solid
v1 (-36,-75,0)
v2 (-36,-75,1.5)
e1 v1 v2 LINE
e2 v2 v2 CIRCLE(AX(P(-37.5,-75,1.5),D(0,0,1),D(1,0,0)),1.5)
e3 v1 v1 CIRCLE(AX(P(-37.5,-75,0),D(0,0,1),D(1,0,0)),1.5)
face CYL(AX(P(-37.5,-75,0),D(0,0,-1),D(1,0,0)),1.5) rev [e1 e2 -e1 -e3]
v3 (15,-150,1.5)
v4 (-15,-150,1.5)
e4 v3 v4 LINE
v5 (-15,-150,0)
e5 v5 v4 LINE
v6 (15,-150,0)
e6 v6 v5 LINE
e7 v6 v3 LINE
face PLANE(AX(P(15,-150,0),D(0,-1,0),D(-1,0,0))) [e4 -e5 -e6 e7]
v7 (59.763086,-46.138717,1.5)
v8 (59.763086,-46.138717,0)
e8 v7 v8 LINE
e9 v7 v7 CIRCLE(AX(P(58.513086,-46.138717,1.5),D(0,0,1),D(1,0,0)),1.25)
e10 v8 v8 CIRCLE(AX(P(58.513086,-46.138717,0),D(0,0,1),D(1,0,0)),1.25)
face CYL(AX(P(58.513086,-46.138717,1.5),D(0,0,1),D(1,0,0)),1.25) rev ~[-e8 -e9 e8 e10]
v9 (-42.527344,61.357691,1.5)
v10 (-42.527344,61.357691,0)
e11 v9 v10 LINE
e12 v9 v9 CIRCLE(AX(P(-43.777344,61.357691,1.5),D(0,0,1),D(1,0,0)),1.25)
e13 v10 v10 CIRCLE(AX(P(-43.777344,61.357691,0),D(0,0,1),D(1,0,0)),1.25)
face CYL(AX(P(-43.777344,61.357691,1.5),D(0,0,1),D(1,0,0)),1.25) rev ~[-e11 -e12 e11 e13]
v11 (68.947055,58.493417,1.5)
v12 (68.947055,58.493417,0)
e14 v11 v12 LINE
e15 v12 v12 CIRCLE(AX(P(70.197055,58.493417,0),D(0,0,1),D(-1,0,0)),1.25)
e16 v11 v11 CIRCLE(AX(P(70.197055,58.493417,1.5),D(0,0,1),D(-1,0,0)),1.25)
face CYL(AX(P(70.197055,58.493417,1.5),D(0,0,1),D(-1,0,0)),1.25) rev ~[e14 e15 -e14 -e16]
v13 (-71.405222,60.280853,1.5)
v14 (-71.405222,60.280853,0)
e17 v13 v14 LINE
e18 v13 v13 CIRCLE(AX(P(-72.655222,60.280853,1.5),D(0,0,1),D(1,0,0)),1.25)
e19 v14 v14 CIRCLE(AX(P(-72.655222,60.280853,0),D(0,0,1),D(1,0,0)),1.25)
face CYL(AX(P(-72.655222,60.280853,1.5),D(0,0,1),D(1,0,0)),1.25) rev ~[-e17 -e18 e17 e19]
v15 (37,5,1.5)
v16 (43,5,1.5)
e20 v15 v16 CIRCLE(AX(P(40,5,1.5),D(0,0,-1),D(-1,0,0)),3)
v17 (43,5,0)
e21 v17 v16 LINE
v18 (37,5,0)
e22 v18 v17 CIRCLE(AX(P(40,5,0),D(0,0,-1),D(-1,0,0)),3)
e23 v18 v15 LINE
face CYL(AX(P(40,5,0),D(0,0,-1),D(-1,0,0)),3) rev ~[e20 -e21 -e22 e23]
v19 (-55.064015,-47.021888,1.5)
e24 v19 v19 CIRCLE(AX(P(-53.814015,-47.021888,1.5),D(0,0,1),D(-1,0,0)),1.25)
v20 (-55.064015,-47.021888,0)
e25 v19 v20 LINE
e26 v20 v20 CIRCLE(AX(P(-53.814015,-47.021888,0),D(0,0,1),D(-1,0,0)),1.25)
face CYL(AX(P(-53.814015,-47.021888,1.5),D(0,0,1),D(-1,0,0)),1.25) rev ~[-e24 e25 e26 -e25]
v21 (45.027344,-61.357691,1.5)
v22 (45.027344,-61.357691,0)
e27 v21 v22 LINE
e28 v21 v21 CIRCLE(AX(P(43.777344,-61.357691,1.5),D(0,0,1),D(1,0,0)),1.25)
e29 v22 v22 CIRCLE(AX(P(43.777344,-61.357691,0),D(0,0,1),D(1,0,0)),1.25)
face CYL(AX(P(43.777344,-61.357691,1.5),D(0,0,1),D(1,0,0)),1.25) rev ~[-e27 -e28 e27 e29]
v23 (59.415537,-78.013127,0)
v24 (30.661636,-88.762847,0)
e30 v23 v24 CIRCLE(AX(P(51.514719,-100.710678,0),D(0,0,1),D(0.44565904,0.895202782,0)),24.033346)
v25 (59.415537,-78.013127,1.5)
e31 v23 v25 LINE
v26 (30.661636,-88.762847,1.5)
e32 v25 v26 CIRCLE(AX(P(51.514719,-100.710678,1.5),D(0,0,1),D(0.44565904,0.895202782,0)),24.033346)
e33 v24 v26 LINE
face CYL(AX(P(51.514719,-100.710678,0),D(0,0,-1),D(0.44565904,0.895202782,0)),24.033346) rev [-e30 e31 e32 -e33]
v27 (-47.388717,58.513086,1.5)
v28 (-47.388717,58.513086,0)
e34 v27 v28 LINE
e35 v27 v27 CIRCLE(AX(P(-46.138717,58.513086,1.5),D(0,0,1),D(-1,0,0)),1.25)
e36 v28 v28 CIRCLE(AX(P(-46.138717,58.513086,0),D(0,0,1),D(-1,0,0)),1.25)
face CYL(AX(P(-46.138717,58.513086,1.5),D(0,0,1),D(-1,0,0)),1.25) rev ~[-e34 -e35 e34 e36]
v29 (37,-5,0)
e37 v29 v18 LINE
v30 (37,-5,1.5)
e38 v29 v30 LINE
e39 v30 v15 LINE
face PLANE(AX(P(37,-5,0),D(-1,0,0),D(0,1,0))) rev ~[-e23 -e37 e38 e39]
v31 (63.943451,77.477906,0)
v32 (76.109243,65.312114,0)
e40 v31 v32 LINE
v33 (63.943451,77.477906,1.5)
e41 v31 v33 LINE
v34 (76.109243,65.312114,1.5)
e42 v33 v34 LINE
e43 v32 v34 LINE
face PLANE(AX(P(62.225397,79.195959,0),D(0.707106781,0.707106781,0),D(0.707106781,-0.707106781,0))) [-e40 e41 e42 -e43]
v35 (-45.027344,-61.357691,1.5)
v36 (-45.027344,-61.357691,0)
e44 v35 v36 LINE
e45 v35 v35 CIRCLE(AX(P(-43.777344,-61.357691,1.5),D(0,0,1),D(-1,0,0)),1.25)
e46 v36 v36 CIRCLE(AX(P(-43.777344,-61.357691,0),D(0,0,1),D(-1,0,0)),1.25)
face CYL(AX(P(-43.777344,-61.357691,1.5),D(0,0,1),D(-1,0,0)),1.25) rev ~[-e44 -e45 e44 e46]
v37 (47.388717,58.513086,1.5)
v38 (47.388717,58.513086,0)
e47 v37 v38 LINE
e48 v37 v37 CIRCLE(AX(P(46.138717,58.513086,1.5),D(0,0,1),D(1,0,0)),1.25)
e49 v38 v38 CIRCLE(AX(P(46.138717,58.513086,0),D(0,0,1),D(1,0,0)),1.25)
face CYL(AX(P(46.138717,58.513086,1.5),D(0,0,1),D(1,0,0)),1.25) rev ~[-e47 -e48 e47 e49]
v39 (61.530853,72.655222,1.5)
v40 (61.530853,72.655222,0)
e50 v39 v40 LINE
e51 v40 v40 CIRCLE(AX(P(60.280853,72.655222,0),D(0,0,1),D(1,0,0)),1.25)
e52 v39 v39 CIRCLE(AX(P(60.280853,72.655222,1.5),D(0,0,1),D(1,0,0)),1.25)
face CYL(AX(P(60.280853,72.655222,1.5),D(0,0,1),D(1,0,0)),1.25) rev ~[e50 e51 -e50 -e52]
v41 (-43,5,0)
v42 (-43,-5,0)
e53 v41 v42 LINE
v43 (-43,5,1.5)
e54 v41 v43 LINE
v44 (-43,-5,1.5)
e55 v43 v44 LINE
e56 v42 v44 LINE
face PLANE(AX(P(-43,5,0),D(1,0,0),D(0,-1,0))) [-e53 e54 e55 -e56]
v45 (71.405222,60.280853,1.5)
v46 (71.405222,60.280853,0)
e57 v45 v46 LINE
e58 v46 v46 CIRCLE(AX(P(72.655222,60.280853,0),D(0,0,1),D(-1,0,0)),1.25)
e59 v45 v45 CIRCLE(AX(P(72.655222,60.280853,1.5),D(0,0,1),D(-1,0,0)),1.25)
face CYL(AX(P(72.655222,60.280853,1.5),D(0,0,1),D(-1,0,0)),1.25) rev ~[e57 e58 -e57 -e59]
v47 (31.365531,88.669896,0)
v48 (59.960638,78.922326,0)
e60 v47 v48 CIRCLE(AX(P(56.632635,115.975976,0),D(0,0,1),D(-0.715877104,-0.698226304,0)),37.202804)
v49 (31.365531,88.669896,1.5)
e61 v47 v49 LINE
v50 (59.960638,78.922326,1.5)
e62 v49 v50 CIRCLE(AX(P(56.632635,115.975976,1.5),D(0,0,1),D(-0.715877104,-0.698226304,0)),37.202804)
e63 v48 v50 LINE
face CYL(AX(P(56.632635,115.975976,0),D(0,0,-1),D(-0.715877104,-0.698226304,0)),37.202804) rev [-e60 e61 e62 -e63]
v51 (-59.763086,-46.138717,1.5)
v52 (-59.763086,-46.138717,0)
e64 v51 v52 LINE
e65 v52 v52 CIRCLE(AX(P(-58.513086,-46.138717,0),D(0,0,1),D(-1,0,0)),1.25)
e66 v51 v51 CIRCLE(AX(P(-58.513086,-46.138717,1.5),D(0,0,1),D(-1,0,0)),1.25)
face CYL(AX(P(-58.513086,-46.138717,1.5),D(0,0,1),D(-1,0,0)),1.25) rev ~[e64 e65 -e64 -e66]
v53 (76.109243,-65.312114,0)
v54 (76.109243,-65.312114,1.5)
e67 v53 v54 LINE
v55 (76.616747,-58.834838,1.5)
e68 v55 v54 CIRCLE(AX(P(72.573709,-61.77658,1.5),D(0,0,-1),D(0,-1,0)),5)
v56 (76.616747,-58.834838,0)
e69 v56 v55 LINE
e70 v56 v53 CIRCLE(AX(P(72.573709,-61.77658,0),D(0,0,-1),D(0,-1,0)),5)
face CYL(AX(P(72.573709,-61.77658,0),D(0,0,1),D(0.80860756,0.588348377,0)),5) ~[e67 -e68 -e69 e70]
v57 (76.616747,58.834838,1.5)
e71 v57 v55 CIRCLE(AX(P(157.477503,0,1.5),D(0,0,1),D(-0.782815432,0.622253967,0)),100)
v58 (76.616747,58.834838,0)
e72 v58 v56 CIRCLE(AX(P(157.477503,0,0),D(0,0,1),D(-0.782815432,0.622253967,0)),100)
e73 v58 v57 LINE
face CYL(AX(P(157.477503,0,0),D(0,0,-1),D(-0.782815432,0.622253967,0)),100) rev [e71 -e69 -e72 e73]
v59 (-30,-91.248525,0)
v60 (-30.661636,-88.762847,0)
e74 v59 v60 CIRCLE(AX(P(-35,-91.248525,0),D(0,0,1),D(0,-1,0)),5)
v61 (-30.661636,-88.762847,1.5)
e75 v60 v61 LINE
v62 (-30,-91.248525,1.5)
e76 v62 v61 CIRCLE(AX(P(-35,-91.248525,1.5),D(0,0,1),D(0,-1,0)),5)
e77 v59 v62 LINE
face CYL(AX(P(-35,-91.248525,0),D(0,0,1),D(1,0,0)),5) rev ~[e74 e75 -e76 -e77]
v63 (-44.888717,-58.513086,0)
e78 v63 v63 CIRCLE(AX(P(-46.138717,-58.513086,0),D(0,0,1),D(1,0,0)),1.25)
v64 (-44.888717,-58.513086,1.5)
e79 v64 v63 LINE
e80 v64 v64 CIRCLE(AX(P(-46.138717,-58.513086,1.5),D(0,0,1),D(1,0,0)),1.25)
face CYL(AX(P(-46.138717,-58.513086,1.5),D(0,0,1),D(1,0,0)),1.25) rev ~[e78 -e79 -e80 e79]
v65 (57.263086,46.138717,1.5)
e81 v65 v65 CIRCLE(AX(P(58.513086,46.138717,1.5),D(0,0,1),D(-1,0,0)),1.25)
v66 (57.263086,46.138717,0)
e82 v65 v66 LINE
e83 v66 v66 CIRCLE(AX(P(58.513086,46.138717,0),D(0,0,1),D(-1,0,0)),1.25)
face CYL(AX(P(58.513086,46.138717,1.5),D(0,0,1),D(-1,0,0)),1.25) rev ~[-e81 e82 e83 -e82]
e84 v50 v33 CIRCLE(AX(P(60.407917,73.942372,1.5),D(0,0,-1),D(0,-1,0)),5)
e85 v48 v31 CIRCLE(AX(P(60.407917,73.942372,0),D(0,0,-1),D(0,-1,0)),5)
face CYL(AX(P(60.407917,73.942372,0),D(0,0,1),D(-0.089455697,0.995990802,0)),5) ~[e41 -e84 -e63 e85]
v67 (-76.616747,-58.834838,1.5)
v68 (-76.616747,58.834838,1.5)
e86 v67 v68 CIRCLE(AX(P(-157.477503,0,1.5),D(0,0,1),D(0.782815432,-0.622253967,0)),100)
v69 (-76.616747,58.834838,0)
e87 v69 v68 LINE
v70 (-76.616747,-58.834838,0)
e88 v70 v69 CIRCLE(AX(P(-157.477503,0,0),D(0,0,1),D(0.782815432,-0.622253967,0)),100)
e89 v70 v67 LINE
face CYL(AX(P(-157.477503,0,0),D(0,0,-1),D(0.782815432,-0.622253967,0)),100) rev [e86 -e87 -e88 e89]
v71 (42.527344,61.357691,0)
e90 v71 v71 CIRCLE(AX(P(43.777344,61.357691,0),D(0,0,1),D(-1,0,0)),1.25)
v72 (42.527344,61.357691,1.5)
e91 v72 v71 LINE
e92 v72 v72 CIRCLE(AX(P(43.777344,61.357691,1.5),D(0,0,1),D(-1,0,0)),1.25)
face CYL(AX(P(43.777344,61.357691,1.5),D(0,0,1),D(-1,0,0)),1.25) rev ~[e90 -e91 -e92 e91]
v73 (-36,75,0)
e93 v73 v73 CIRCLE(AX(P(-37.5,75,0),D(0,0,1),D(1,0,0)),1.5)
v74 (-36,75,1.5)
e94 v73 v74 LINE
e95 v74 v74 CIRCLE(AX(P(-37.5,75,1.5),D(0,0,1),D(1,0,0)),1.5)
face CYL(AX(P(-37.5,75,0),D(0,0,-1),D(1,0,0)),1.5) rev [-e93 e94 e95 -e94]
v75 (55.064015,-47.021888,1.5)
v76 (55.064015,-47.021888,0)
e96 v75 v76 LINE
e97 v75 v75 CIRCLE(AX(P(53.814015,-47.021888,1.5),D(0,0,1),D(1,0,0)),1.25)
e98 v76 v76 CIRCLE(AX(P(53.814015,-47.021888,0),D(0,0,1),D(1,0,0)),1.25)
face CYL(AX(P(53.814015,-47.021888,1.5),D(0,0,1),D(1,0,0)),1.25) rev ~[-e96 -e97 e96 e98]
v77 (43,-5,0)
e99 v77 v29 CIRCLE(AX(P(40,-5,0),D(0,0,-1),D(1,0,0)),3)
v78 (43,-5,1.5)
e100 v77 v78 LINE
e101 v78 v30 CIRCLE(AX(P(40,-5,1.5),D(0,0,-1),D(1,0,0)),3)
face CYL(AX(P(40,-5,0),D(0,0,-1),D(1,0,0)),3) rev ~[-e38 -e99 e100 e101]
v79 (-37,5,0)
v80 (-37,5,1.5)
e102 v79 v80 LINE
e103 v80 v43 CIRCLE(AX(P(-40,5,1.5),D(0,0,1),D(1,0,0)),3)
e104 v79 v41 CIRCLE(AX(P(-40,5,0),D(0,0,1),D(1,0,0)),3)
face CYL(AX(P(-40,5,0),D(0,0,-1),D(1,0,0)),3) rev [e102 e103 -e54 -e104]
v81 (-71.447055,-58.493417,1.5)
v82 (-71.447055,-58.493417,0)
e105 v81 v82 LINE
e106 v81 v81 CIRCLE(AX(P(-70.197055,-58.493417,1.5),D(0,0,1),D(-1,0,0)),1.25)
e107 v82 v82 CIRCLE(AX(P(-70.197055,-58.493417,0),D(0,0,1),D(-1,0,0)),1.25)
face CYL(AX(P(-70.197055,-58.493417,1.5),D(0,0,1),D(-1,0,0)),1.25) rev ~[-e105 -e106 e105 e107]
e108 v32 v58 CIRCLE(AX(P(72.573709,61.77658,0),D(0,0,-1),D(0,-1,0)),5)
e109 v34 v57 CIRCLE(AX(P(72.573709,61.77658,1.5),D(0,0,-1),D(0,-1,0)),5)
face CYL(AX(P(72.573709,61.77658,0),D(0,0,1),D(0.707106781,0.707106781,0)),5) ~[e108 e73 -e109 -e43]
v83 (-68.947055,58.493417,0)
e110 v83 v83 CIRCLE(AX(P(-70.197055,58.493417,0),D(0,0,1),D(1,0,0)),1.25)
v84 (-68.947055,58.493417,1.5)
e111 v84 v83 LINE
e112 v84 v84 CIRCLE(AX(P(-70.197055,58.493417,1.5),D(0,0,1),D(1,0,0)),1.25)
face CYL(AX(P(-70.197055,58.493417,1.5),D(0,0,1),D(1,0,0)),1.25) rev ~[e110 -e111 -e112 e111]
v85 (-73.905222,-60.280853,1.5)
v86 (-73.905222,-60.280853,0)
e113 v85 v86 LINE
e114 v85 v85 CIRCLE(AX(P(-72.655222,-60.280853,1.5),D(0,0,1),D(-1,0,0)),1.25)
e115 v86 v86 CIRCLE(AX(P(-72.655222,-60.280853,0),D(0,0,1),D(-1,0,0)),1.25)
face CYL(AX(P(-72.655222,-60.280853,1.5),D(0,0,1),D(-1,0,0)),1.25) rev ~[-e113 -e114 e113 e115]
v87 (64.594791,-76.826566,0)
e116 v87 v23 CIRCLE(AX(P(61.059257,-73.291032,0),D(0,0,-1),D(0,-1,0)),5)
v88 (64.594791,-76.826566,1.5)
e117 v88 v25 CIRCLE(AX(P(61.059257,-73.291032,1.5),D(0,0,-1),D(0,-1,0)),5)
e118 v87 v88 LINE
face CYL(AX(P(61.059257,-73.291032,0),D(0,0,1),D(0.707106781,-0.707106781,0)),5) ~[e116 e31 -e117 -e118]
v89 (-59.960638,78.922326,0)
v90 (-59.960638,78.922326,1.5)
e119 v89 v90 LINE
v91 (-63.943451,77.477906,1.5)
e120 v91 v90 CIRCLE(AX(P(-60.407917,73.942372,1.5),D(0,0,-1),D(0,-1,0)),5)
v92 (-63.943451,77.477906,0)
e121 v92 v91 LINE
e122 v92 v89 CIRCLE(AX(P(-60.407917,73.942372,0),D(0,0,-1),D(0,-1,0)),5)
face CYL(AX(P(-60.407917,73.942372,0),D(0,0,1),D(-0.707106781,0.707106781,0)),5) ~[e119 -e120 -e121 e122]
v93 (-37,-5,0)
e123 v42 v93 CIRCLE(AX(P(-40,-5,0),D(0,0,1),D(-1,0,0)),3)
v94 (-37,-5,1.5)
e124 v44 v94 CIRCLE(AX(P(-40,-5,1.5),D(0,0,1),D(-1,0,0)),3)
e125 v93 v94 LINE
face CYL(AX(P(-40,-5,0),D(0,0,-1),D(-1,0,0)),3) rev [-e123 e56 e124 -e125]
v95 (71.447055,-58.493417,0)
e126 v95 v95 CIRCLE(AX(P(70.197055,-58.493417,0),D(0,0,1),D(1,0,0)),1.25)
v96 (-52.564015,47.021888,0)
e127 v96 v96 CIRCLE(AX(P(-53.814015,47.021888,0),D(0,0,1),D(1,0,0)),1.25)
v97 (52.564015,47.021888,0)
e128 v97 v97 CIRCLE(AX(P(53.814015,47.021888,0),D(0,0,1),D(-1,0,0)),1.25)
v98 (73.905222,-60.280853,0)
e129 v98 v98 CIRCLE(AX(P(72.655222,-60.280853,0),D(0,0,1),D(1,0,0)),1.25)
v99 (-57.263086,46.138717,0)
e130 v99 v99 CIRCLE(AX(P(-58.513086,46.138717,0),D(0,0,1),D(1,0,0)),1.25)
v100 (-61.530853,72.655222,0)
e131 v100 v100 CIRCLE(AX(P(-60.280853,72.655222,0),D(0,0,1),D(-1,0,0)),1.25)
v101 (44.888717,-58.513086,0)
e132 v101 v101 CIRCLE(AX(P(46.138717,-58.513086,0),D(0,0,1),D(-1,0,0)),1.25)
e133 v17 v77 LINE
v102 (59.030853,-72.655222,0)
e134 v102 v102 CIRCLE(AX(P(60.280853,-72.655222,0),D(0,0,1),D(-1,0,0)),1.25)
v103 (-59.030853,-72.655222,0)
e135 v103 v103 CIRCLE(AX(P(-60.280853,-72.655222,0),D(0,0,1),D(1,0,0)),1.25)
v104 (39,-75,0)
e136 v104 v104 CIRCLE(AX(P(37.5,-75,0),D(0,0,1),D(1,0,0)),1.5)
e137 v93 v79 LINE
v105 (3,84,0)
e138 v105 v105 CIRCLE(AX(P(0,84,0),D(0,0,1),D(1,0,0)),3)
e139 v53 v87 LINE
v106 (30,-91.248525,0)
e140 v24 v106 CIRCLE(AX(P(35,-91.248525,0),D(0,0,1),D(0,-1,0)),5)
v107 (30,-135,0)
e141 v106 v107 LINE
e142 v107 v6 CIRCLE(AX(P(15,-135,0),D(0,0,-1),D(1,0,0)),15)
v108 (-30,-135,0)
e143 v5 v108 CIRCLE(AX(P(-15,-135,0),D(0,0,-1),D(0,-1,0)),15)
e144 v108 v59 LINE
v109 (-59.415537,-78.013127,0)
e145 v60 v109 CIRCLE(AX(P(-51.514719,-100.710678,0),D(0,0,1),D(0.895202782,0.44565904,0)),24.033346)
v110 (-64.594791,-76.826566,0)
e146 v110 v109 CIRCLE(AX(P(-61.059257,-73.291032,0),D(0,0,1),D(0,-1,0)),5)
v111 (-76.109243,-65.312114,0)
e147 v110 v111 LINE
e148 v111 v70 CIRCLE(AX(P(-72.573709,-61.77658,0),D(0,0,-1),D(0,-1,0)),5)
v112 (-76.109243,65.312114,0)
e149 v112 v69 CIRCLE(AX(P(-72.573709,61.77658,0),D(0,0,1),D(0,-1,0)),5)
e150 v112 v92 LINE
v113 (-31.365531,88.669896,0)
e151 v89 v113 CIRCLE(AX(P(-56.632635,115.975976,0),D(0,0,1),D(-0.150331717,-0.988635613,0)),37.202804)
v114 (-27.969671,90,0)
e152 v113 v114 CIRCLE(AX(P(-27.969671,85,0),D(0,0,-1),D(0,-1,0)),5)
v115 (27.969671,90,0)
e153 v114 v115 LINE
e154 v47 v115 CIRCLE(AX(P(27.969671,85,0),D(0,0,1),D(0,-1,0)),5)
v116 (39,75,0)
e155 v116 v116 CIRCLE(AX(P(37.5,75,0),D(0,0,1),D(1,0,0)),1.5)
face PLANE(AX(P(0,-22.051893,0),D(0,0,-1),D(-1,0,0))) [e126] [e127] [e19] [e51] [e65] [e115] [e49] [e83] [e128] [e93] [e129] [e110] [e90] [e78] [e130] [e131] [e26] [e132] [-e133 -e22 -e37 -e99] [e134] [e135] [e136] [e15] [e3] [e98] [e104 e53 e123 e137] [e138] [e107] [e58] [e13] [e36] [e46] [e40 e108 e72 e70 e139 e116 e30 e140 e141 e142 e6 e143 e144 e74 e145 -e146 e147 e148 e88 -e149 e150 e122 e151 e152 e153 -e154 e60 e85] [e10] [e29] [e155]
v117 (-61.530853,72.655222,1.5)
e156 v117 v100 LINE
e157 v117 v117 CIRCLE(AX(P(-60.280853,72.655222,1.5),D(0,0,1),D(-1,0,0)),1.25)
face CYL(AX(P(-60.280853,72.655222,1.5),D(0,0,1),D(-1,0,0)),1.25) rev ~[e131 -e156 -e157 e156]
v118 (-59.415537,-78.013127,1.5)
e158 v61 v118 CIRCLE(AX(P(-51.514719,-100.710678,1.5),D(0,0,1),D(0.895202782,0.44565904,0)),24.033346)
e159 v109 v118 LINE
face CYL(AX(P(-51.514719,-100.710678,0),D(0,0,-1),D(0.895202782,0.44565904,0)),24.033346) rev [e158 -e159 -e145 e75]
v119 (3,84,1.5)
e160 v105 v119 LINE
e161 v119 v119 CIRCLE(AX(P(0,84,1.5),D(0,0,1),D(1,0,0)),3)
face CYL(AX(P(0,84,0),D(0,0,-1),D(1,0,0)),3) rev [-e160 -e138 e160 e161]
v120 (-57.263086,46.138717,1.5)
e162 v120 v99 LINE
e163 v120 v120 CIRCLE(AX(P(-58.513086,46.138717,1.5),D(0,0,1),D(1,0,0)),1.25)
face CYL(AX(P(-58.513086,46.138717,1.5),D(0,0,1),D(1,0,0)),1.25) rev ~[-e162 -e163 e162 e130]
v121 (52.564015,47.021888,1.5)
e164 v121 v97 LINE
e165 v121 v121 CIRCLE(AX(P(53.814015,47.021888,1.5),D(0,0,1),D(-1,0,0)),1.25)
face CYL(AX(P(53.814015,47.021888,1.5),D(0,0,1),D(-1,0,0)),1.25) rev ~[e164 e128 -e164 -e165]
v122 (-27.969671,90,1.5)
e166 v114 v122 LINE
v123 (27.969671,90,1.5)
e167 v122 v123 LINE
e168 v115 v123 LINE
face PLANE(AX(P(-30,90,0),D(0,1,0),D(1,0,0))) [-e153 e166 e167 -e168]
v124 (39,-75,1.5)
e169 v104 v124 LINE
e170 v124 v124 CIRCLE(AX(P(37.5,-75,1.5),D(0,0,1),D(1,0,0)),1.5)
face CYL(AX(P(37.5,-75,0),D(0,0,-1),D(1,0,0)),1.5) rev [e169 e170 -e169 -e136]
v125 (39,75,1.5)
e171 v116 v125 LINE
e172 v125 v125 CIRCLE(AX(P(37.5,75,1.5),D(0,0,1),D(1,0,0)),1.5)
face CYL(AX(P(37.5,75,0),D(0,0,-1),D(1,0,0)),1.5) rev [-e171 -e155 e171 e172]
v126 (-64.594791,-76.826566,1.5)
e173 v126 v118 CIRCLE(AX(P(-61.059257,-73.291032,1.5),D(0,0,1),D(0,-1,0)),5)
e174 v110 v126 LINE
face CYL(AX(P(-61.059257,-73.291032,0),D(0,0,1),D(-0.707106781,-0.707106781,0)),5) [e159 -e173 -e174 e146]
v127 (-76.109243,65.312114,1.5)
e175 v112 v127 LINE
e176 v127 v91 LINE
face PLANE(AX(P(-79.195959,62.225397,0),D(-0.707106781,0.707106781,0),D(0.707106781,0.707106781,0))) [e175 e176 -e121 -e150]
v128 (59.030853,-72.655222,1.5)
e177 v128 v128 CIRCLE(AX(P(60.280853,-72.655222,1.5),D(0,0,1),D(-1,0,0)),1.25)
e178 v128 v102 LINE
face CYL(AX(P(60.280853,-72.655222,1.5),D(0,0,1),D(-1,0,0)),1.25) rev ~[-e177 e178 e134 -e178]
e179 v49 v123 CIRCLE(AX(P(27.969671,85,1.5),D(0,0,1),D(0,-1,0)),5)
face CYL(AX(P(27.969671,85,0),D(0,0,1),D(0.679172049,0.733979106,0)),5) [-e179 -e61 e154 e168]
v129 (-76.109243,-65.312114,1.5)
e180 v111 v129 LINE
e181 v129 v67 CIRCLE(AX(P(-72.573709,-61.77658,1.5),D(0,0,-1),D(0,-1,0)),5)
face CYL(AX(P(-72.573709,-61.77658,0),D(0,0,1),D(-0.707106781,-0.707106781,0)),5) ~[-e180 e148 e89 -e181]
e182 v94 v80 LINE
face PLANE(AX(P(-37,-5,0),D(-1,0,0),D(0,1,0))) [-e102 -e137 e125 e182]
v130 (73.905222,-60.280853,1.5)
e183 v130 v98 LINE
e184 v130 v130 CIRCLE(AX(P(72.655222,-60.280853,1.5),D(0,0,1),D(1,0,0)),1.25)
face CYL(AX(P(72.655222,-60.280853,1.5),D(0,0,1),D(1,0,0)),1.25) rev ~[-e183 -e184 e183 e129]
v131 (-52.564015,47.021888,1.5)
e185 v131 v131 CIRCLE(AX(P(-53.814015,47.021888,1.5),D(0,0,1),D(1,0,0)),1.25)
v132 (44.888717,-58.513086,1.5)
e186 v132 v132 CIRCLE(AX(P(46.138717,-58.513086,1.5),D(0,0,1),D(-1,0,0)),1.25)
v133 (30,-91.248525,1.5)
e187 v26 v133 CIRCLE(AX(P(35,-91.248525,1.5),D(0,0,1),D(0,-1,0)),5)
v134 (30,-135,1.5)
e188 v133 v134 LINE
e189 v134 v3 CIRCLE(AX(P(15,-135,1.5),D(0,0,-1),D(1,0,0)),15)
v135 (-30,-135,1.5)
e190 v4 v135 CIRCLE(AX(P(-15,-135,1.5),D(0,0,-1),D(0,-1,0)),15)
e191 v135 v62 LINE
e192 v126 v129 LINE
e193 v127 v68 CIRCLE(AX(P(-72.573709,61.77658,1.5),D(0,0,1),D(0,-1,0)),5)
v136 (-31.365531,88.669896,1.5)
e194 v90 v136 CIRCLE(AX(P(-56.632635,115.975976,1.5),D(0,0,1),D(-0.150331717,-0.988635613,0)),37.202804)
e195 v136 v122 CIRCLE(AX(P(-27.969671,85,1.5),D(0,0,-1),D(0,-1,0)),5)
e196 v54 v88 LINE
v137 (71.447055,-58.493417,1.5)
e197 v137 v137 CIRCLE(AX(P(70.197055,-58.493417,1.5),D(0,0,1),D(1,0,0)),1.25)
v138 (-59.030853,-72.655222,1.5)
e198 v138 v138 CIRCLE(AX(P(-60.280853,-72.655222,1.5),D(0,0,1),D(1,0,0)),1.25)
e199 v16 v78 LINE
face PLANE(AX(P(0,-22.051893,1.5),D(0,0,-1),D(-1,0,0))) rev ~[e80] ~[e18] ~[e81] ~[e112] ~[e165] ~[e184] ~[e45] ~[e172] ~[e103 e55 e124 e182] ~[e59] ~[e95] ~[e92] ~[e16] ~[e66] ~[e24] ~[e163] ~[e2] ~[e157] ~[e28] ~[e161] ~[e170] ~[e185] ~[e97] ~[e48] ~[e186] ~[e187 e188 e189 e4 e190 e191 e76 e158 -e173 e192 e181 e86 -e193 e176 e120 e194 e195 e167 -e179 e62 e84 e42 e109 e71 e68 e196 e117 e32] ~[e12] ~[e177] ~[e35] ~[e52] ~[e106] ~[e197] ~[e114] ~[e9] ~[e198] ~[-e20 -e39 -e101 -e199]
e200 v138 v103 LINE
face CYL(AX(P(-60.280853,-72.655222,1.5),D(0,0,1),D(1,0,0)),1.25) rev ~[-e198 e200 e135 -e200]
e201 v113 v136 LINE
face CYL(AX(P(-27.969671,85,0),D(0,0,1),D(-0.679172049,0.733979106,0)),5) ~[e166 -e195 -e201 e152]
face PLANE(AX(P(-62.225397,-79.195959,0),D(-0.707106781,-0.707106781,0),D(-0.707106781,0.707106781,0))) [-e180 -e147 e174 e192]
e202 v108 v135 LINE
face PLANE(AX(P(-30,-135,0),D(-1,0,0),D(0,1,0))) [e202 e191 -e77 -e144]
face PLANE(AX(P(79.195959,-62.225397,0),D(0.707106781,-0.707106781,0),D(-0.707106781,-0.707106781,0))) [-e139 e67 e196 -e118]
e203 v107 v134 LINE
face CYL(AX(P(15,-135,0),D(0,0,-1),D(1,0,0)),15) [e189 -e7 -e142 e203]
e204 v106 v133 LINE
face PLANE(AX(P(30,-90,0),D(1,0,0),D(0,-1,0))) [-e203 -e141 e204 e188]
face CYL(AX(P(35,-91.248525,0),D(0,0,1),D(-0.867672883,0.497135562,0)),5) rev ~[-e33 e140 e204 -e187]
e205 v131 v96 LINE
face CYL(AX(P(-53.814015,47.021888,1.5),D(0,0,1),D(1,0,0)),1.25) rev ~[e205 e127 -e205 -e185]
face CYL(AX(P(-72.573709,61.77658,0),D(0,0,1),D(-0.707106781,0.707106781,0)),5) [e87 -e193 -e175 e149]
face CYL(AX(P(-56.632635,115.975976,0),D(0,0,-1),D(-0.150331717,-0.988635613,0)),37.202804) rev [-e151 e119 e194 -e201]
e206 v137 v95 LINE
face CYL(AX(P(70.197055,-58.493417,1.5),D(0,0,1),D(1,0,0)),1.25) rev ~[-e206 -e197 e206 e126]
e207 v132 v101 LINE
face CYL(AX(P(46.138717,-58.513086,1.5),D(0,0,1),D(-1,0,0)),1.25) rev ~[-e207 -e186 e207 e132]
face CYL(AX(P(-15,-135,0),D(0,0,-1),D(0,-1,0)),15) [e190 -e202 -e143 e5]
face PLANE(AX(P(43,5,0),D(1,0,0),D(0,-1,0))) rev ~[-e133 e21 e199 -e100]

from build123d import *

# Parameters (mm, degrees)
SKETCH2_R           = 1.5
SKETCH2_R_2         = 3
BOSS_EXTRUDE1_DEPTH = 1.5
SKETCH3_R           = 1.25
F_45_DEGREES_DEPTH  = 170.629743854
SKETCH4_R           = 1.25
F_35_DEGRESS_DEPTH  = 170.629743854
FILLET1_R           = 5
FILLET2_R           = 5
FILLET3_R           = 5
FILLET4_R           = 5
FILLET5_R           = 5
FILLET6_R           = 5
FILLET7_R           = 5
FILLET8_R           = 5
FILLET10_R          = 5
FILLET11_R          = 5
FILLET12_R          = 5
FILLET13_R          = 5


with BuildPart() as part:
    # Sketch2 → Boss-Extrude1 (new body)
    with BuildSketch(Plane.XY):
        with BuildLine():
            Line((-79.195959493, 62.225396744), (-62.225396744, 79.195959493))
            ThreePointArc((-62.225396744, 79.195959493), (-44.806778225, 80.702789346), (-30, 90))
            Line((-30, 90), (30, 90))
            ThreePointArc((30, 90), (44.806778225, 80.702789346), (62.225396744, 79.195959493))
            Line((62.225396744, 79.195959493), (79.195959493, 62.225396744))
            ThreePointArc((79.195959493, 62.225396744), (57.477502656, 0), (79.195959493, -62.225396744))
            Line((79.195959493, -62.225396744), (62.225396744, -79.195959493))
            ThreePointArc((62.225396744, -79.195959493), (43.875108319, -77.923881554), (30, -90))
            Line((30, -90), (30, -135))
            ThreePointArc((30, -135), (25.606601718, -145.606601718), (15, -150))
            Line((15, -150), (-15, -150))
            ThreePointArc((-15, -150), (-25.606601718, -145.606601718), (-30, -135))
            Line((-30, -135), (-30, -90))
            ThreePointArc((-30, -90), (-43.875108319, -77.923881554), (-62.225396744, -79.195959493))
            Line((-62.225396744, -79.195959493), (-79.195959493, -62.225396744))
            ThreePointArc((-79.195959493, -62.225396744), (-57.477502656, 0), (-79.195959493, 62.225396744))
        make_face()
        with Locations((-37.5, 75)):
            Circle(SKETCH2_R, mode=Mode.SUBTRACT)
        with Locations((37.5, 75)):
            Circle(SKETCH2_R, mode=Mode.SUBTRACT)
        with Locations((37.5, -75)):
            Circle(SKETCH2_R, mode=Mode.SUBTRACT)
        with Locations((-37.5, -75)):
            Circle(SKETCH2_R, mode=Mode.SUBTRACT)
        with Locations((0, 84)):
            Circle(SKETCH2_R_2, mode=Mode.SUBTRACT)
        with BuildLine():
            Line((43, 5), (43, -5))
            ThreePointArc((43, -5), (40, -8), (37, -5))
            Line((37, -5), (37, 5))
            ThreePointArc((37, 5), (40, 8), (43, 5))
        make_face(mode=Mode.SUBTRACT)
        with BuildLine():
            Line((-43, 5), (-43, -5))
            ThreePointArc((-43, -5), (-40, -8), (-37, -5))
            Line((-37, -5), (-37, 5))
            ThreePointArc((-37, 5), (-40, 8), (-43, 5))
        make_face(mode=Mode.SUBTRACT)
    extrude(amount=BOSS_EXTRUDE1_DEPTH)

    # Sketch3 → 45 Degrees (cut, through all)
    with BuildSketch(Plane.XY.offset(1.5)):
        with Locations((-72.655221767, 60.280853096)):
            Circle(SKETCH3_R)
        with Locations((-58.513086143, 46.138717472)):
            Circle(SKETCH3_R)
        with Locations(Location((-60.280853096, 72.655221767, 0), (0, 0, 180))):
            Circle(SKETCH3_R)
        with Locations(Location((-46.138717472, 58.513086143, 0), (0, 0, 180))):
            Circle(SKETCH3_R)
        with Locations(Location((58.513086143, 46.138717472, 0), (0, 0, 180))):
            Circle(SKETCH3_R)
        with Locations(Location((72.655221767, 60.280853096, 0), (0, 0, 180))):
            Circle(SKETCH3_R)
        with Locations((60.280853096, 72.655221767)):
            Circle(SKETCH3_R)
        with Locations((46.138717472, 58.513086143)):
            Circle(SKETCH3_R)
        with Locations(Location((-58.513086143, -46.138717472, 0), (0, 0, 180))):
            Circle(SKETCH3_R)
        with Locations((-46.138717472, -58.513086143)):
            Circle(SKETCH3_R)
        with Locations((-60.280853096, -72.655221767)):
            Circle(SKETCH3_R)
        with Locations(Location((-72.655221767, -60.280853096, 0), (0, 0, 180))):
            Circle(SKETCH3_R)
        with Locations((58.513086143, -46.138717472)):
            Circle(SKETCH3_R)
        with Locations((72.655221767, -60.280853096)):
            Circle(SKETCH3_R)
        with Locations(Location((60.280853096, -72.655221767, 0), (0, 0, 180))):
            Circle(SKETCH3_R)
        with Locations(Location((46.138717472, -58.513086143, 0), (0, 0, 180))):
            Circle(SKETCH3_R)
    extrude(amount=-F_45_DEGREES_DEPTH, mode=Mode.SUBTRACT)

    # Sketch4 → 35 Degress (cut, through all)
    with BuildSketch(Plane.XY.offset(1.5)):
        with Locations((-70.197055442, 58.493417152)):
            Circle(SKETCH4_R)
        with Locations(Location((-60.280853096, 72.655221767, 0), (0, 0, 180))):
            Circle(SKETCH4_R)
        with Locations((60.280853096, 72.655221767)):
            Circle(SKETCH4_R)
        with Locations((-43.777344125, 61.357691434)):
            Circle(SKETCH4_R)
        with Locations((-53.814014556, 47.021888425)):
            Circle(SKETCH4_R)
        with Locations(Location((43.777344125, 61.357691434, 0), (0, 0, 180))):
            Circle(SKETCH4_R)
        with Locations(Location((53.814014556, 47.021888425, 0), (0, 0, 180))):
            Circle(SKETCH4_R)
        with Locations(Location((70.197055442, 58.493417152, 0), (0, 0, 180))):
            Circle(SKETCH4_R)
        with Locations(Location((60.280853096, -72.655221767, 0), (0, 0, 180))):
            Circle(SKETCH4_R)
        with Locations((70.197055442, -58.493417152)):
            Circle(SKETCH4_R)
        with Locations((43.777344125, -61.357691434)):
            Circle(SKETCH4_R)
        with Locations((53.814014556, -47.021888425)):
            Circle(SKETCH4_R)
        with Locations((-60.280853096, -72.655221767)):
            Circle(SKETCH4_R)
        with Locations(Location((-53.814014556, -47.021888425, 0), (0, 0, 180))):
            Circle(SKETCH4_R)
        with Locations(Location((-43.777344125, -61.357691434, 0), (0, 0, 180))):
            Circle(SKETCH4_R)
        with Locations(Location((-70.197055442, -58.493417152, 0), (0, 0, 180))):
            Circle(SKETCH4_R)
    extrude(amount=-F_35_DEGRESS_DEPTH, mode=Mode.SUBTRACT)

    # Fillet1
    fillet1_edges = [part.edges().sort_by_distance(p)[0] for p in [
        (-30, 90, 0.75),
    ]]
    fillet(fillet1_edges, radius=FILLET1_R)

    # Fillet2
    fillet2_edges = [part.edges().sort_by_distance(p)[0] for p in [
        (-79.195959493, 62.225396744, 0.75),
    ]]
    fillet(fillet2_edges, radius=FILLET2_R)

    # Fillet3
    fillet3_edges = [part.edges().sort_by_distance(p)[0] for p in [
        (-62.225396744, 79.195959493, 0.75),
    ]]
    fillet(fillet3_edges, radius=FILLET3_R)

    # Fillet4
    fillet4_edges = [part.edges().sort_by_distance(p)[0] for p in [
        (62.225396744, 79.195959493, 0.75),
    ]]
    fillet(fillet4_edges, radius=FILLET4_R)

    # Fillet5
    fillet5_edges = [part.edges().sort_by_distance(p)[0] for p in [
        (30, 90, 0.75),
    ]]
    fillet(fillet5_edges, radius=FILLET5_R)

    # Fillet6
    fillet6_edges = [part.edges().sort_by_distance(p)[0] for p in [
        (79.195959493, 62.225396744, 0.75),
    ]]
    fillet(fillet6_edges, radius=FILLET6_R)

    # Fillet7
    fillet7_edges = [part.edges().sort_by_distance(p)[0] for p in [
        (79.195959493, -62.225396744, 0.75),
    ]]
    fillet(fillet7_edges, radius=FILLET7_R)

    # Fillet8
    fillet8_edges = [part.edges().sort_by_distance(p)[0] for p in [
        (62.225396744, -79.195959493, 0.75),
    ]]
    fillet(fillet8_edges, radius=FILLET8_R)

    # Fillet10
    fillet10_edges = [part.edges().sort_by_distance(p)[0] for p in [
        (30, -90, 0.75),
    ]]
    fillet(fillet10_edges, radius=FILLET10_R)

    # Fillet11
    fillet11_edges = [part.edges().sort_by_distance(p)[0] for p in [
        (-30, -90, 0.75),
    ]]
    fillet(fillet11_edges, radius=FILLET11_R)

    # Fillet12
    fillet12_edges = [part.edges().sort_by_distance(p)[0] for p in [
        (-79.195959493, -62.225396744, 0.75),
    ]]
    fillet(fillet12_edges, radius=FILLET12_R)

    # Fillet13
    fillet13_edges = [part.edges().sort_by_distance(p)[0] for p in [
        (-62.225396744, -79.195959493, 0.75),
    ]]
    fillet(fillet13_edges, radius=FILLET13_R)


solid = part.part
